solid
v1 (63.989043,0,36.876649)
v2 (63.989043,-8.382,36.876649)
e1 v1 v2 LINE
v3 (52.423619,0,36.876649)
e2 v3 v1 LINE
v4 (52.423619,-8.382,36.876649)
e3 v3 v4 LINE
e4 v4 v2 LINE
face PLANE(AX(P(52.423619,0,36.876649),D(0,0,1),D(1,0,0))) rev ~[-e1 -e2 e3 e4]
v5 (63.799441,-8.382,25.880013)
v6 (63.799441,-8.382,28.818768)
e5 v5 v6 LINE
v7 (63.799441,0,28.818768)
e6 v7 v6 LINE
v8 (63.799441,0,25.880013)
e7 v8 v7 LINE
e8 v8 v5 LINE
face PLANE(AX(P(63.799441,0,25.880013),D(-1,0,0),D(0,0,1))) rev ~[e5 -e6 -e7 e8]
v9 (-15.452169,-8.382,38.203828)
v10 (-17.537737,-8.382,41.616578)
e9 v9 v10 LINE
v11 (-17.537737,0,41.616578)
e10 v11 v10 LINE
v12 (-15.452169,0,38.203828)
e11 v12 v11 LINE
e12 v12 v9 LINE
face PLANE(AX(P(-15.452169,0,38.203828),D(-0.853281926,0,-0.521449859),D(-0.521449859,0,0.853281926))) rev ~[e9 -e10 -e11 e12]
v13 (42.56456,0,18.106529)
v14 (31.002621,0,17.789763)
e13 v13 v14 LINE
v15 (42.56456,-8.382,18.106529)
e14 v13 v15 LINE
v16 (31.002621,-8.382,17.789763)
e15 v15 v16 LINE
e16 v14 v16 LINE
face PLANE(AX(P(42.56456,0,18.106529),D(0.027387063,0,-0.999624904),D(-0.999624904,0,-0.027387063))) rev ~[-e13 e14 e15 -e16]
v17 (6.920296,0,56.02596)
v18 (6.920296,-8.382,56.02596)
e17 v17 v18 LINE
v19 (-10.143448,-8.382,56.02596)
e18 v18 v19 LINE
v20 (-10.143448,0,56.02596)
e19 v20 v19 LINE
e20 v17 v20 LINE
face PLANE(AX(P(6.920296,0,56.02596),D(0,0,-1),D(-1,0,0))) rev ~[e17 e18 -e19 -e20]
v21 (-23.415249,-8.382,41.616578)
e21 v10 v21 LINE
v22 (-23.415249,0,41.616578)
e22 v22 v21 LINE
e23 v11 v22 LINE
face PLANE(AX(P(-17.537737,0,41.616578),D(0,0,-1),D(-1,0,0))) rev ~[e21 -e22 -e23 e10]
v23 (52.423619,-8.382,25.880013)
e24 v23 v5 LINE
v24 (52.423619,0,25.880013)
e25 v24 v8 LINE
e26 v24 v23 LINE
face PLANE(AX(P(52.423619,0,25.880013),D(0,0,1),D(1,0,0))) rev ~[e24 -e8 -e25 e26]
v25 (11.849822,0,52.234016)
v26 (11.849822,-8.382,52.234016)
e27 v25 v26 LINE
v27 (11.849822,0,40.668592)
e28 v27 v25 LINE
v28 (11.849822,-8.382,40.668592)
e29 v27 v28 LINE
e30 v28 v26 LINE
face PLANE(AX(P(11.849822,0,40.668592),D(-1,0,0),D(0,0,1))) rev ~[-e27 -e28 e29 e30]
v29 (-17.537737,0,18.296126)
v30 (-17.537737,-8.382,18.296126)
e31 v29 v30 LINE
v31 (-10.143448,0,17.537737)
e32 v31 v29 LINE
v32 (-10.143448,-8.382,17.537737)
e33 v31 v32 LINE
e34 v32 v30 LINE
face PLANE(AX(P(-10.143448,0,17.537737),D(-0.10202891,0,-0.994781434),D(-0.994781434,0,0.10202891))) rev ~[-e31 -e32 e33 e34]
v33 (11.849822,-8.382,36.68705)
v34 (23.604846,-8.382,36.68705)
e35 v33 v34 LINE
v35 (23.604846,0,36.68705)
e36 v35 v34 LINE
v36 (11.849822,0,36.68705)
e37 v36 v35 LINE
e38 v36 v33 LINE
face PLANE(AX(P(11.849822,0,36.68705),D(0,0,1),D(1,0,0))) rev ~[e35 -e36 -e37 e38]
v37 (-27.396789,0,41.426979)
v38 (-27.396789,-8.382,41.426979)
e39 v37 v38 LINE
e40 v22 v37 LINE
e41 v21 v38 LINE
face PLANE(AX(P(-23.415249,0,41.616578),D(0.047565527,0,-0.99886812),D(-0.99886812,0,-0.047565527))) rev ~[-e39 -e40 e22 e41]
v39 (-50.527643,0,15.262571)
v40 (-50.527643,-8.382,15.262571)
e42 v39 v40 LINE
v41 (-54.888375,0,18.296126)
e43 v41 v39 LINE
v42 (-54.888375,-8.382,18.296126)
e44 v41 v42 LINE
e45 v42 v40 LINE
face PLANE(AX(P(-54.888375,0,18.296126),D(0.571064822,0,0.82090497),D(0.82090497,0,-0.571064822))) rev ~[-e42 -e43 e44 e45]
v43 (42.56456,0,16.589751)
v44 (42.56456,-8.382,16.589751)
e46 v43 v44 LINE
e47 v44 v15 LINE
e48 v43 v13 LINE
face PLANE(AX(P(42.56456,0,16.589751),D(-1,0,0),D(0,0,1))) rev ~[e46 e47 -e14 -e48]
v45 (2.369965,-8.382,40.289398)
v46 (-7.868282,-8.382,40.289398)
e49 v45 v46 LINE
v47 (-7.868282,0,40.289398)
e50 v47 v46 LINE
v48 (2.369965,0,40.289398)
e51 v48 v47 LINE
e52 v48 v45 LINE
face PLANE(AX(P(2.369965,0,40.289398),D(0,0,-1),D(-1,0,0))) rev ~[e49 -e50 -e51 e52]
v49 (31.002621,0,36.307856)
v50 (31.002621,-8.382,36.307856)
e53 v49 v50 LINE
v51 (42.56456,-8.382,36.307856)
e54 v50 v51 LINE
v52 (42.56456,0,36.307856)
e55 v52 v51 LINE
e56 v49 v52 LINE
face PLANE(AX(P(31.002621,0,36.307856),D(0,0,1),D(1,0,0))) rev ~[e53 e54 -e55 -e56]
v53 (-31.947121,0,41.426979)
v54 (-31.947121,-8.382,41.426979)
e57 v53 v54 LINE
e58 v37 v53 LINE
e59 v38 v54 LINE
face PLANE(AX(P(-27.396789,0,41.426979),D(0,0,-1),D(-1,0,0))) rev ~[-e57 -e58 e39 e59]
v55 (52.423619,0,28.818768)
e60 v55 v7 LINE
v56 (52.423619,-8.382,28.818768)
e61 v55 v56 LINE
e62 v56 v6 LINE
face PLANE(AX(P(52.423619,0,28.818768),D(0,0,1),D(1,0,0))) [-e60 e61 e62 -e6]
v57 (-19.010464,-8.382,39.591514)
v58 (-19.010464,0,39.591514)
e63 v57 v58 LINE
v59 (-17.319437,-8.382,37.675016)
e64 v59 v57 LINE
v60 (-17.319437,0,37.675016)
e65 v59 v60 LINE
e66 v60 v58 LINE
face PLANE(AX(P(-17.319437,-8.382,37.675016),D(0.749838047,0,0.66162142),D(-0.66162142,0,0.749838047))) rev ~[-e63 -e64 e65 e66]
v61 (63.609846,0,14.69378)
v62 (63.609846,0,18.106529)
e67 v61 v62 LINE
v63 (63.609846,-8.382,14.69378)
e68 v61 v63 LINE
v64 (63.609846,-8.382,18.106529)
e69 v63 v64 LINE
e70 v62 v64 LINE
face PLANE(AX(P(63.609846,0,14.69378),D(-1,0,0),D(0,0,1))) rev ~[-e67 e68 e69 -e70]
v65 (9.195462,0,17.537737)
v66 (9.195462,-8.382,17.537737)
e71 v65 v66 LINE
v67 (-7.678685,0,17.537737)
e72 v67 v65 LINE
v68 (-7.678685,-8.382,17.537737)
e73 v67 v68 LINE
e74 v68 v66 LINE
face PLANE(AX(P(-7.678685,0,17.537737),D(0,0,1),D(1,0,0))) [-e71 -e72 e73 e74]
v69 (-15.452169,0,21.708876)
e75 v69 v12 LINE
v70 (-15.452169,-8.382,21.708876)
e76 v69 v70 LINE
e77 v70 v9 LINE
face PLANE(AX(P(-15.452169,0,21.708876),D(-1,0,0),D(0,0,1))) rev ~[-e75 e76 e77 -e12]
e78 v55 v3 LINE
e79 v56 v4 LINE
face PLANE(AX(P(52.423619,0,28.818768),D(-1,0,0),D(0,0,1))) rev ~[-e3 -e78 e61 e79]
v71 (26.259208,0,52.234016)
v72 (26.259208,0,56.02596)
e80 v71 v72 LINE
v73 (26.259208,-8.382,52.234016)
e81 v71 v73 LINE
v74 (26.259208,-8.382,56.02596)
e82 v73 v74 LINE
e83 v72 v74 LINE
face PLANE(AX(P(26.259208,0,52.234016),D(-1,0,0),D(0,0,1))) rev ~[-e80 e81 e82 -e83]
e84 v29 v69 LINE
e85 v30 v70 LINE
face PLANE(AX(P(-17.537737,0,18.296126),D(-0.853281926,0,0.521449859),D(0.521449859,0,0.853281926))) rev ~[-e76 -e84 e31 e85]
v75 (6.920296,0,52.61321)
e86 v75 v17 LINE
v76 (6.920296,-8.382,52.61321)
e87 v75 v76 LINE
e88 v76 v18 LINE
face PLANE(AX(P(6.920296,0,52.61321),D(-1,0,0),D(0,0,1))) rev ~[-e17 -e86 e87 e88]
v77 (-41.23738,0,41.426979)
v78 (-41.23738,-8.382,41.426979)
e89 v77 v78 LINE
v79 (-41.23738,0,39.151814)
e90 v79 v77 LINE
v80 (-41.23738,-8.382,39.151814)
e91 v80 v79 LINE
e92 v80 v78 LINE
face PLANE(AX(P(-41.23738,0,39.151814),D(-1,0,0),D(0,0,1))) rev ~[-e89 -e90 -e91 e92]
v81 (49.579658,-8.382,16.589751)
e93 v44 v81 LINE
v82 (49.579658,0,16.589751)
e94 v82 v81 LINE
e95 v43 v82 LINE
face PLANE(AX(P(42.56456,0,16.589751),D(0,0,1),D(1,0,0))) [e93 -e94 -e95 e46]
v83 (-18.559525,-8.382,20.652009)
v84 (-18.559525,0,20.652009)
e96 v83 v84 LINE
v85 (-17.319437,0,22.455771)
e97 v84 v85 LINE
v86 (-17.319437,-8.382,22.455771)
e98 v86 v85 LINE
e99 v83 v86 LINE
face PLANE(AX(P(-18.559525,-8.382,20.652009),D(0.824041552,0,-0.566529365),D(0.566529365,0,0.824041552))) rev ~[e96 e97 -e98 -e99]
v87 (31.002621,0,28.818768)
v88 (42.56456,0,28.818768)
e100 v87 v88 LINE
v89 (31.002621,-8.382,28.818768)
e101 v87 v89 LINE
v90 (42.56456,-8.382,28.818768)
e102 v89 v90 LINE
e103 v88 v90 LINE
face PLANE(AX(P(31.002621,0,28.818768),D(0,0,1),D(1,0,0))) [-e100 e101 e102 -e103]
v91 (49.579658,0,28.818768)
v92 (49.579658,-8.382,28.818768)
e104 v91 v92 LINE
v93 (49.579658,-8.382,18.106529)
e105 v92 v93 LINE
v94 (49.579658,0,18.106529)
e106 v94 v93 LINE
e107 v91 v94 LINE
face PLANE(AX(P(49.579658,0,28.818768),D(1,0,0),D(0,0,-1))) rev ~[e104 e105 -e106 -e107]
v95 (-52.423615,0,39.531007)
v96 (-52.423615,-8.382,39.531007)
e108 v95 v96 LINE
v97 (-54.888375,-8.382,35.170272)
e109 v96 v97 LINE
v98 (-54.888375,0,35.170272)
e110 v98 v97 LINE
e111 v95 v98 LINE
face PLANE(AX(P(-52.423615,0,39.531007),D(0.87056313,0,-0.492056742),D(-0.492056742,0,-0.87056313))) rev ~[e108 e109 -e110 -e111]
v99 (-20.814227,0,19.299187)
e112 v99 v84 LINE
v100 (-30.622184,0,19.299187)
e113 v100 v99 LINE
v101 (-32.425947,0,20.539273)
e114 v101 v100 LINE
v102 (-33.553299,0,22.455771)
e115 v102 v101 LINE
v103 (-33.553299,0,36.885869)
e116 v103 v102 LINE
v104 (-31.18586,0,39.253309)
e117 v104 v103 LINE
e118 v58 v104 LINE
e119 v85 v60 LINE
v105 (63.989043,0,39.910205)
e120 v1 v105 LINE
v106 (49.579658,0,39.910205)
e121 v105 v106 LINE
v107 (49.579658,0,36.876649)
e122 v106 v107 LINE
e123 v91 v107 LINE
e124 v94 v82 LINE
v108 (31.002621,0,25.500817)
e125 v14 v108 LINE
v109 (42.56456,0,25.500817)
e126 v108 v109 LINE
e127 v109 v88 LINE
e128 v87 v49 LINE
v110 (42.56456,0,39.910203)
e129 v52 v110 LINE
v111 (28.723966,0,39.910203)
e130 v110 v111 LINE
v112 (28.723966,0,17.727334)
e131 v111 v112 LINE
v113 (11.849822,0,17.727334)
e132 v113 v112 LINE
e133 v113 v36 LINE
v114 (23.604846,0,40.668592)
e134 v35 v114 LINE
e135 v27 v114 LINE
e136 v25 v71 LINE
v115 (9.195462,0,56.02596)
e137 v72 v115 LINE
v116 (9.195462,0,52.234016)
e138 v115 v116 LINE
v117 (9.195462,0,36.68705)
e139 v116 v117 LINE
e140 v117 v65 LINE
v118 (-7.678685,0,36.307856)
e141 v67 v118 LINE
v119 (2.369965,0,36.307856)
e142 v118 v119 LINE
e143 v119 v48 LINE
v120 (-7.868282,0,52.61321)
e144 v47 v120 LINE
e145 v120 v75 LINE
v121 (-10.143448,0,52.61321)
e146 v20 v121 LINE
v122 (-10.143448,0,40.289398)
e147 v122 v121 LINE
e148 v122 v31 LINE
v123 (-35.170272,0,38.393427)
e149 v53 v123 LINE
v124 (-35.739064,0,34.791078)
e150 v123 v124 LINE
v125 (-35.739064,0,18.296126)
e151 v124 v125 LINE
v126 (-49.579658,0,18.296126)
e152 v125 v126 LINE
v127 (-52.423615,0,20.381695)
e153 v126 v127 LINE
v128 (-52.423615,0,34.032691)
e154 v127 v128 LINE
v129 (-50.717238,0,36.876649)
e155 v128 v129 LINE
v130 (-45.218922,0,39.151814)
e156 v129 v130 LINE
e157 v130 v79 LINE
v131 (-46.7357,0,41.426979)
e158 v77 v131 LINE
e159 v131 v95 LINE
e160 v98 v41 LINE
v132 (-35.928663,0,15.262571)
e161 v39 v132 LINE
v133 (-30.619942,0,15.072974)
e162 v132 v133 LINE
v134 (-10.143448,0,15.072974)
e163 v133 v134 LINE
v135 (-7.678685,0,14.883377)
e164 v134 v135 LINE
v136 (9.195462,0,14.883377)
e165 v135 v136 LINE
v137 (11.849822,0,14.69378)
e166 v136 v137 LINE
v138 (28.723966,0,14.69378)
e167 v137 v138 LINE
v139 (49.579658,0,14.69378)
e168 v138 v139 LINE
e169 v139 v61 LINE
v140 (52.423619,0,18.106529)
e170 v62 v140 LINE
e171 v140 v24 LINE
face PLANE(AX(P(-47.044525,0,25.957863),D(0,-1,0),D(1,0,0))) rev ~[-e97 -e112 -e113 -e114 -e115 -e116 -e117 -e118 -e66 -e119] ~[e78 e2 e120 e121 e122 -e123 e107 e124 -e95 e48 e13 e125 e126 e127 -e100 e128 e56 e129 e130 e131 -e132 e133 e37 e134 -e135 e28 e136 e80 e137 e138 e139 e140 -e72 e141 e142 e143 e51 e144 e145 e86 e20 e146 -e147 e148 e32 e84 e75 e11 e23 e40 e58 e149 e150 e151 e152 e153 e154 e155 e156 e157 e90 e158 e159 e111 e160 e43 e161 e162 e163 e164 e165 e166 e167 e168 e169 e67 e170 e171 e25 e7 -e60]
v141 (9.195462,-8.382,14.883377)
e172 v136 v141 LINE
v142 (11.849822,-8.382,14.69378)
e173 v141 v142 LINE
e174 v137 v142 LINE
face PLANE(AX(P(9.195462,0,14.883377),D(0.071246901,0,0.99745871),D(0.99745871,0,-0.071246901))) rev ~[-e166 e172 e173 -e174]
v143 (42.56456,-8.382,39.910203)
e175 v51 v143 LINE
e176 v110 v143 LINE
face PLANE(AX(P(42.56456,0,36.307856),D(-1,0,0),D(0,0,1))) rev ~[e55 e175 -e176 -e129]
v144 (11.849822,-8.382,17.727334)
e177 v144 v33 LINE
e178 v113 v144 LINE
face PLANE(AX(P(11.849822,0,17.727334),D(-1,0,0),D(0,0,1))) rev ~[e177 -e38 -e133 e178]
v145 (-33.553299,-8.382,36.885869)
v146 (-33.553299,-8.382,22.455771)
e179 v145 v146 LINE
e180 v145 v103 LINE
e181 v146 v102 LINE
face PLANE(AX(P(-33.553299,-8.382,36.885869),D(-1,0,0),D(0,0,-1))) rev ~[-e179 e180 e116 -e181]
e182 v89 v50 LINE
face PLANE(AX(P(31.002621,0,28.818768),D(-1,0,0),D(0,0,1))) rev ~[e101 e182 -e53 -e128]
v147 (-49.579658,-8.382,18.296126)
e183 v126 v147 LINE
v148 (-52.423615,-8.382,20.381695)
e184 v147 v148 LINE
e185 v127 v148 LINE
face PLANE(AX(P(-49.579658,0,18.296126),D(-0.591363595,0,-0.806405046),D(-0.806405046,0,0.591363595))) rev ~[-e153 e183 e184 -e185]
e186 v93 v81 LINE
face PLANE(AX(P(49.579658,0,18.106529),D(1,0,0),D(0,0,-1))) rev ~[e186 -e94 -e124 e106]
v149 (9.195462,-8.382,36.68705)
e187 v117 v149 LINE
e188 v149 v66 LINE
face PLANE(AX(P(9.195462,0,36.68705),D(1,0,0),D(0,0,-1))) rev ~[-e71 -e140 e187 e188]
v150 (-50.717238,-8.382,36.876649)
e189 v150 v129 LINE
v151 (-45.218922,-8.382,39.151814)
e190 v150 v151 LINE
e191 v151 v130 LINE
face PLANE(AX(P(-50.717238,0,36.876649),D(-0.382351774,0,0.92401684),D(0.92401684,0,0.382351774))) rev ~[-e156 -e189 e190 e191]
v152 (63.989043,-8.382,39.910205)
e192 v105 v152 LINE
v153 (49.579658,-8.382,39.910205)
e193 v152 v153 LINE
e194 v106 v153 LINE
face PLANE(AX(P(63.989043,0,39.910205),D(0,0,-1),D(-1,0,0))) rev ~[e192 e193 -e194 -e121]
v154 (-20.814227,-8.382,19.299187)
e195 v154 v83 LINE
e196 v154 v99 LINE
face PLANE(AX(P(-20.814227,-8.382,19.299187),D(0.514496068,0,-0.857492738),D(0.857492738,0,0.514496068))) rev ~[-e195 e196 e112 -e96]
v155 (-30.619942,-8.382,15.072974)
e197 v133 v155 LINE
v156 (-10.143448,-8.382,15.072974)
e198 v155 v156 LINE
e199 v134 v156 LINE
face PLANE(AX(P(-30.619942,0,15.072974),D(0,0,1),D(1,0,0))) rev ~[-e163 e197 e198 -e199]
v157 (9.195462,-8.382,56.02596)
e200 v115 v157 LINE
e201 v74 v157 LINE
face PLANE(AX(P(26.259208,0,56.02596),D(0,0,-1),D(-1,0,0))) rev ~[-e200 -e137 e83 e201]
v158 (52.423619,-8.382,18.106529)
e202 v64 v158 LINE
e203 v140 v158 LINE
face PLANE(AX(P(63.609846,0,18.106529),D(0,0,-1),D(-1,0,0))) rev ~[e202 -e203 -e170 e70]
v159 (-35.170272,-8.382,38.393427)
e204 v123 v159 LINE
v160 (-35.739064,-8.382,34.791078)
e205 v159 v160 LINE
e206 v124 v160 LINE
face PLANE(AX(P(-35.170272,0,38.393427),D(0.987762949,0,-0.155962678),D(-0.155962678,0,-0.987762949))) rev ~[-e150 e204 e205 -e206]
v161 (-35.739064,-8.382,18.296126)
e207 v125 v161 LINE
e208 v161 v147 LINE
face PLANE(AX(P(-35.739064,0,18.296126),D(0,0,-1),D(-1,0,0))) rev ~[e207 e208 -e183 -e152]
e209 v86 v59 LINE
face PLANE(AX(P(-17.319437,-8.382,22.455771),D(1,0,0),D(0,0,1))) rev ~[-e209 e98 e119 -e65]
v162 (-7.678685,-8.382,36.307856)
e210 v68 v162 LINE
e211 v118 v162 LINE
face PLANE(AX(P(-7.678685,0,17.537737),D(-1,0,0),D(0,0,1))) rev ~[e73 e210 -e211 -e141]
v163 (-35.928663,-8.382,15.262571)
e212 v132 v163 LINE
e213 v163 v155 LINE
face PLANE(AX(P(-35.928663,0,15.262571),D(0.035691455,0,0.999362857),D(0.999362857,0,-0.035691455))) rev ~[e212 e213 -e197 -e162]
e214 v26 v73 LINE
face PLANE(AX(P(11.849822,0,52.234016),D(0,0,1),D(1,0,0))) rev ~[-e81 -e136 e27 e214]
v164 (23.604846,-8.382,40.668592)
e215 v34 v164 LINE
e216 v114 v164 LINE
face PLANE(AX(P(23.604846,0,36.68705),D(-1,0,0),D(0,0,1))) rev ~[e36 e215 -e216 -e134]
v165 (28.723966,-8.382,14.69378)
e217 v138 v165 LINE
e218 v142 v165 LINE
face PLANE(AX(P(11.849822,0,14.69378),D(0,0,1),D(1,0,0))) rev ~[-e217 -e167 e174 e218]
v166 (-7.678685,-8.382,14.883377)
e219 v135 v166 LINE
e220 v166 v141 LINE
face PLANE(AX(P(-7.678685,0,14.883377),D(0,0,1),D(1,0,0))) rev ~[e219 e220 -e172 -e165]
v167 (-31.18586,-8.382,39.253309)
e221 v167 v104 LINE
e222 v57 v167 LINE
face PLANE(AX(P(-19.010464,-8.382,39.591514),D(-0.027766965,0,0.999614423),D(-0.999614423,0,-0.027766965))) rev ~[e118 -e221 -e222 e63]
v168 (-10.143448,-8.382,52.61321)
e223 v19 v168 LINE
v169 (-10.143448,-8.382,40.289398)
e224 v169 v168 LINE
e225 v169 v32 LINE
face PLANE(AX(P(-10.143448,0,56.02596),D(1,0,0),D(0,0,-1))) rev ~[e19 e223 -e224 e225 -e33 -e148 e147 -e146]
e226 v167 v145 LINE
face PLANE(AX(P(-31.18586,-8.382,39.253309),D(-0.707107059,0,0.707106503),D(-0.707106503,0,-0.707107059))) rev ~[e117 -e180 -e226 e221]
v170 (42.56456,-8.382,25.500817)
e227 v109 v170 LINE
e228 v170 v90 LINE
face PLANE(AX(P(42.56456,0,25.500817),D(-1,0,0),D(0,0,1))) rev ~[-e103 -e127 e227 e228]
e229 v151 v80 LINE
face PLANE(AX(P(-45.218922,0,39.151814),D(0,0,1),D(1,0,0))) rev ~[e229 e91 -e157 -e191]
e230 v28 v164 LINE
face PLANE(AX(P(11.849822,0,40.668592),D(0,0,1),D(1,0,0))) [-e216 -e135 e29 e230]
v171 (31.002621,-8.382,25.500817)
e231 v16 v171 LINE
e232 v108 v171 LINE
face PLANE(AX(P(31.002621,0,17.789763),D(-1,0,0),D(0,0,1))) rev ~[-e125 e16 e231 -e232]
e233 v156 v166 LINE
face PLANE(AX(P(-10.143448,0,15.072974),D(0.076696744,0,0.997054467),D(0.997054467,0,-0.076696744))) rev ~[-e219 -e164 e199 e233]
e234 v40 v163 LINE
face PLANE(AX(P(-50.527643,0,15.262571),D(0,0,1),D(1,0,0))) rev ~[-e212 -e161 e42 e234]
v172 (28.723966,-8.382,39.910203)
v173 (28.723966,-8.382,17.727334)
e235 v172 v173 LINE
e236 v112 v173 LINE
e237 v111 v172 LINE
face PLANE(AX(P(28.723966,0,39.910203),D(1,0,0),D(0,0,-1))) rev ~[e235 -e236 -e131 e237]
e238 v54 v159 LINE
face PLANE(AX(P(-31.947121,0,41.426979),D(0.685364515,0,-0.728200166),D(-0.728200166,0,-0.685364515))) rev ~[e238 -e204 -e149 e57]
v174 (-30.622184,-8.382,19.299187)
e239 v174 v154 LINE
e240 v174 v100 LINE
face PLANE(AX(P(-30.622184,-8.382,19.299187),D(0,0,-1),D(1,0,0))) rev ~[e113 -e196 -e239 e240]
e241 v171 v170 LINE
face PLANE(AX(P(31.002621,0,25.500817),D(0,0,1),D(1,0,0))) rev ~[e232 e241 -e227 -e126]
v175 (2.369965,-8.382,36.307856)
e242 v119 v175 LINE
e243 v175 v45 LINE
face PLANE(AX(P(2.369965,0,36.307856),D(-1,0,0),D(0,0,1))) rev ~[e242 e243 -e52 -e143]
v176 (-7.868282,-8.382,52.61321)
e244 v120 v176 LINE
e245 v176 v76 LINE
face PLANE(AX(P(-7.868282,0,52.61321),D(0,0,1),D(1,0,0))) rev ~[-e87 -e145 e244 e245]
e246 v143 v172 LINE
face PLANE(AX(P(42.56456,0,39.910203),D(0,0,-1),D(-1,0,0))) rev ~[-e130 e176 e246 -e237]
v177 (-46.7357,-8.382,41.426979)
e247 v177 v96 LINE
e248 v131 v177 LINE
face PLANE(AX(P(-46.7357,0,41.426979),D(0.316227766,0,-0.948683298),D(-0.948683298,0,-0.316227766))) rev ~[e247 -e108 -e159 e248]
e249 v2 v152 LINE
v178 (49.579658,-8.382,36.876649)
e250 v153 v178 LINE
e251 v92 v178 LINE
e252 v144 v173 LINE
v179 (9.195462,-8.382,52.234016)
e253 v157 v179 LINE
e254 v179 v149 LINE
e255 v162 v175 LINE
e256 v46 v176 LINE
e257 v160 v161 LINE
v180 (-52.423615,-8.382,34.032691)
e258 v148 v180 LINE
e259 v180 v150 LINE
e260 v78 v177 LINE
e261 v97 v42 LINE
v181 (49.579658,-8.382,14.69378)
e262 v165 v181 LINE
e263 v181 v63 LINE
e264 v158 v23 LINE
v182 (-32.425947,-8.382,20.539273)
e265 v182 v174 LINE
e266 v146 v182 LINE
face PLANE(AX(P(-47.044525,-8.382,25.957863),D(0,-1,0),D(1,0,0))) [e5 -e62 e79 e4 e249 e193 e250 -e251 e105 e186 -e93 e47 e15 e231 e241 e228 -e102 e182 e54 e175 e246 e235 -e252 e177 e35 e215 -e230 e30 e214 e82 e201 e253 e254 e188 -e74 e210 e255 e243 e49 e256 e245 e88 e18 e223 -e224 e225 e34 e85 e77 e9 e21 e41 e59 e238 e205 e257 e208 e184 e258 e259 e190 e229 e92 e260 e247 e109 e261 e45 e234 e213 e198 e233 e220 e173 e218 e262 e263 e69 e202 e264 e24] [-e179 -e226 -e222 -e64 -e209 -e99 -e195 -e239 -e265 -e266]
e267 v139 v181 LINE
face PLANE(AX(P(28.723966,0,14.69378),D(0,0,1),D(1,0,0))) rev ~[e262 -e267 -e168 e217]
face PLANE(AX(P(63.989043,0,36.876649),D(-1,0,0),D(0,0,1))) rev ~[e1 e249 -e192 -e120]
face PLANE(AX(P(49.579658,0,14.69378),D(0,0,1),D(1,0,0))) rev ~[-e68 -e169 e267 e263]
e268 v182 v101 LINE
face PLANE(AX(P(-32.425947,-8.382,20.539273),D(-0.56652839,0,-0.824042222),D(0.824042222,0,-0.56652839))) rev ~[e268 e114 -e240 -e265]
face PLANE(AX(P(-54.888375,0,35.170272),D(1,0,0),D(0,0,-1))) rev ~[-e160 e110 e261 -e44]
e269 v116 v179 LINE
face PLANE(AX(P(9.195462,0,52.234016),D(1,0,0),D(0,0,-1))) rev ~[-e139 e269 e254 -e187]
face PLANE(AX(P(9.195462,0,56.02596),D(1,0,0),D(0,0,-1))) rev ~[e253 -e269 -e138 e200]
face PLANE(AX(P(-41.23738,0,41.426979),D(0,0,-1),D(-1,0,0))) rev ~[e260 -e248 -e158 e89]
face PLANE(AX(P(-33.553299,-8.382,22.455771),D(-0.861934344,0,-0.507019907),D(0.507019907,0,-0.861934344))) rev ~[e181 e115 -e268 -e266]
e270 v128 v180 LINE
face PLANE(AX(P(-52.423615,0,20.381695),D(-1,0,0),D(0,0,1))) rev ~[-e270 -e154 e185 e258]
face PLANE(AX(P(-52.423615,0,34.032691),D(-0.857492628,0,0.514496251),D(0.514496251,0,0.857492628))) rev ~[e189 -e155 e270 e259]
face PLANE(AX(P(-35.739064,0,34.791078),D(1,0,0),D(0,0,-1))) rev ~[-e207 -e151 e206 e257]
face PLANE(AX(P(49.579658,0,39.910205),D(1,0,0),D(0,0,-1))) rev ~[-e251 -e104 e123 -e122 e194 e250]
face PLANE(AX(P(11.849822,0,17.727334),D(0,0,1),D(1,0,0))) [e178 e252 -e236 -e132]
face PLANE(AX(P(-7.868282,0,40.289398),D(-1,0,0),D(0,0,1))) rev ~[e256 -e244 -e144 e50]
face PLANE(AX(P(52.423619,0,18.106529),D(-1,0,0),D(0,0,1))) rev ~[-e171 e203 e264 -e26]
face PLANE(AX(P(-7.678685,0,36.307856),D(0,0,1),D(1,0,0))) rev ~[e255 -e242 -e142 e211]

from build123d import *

# Parameters (mm, degrees)
F0_W     = 16.8741471134
F0_H     = 2.6543606073
F0_W_2   = 2.2751651704
F0_H_2   = 12.3238116503
F0_W_3   = 16.8741438538
F0_H_3   = 3.0335541815
F0_W_4   = 2.6543606073
F0_H_4   = 3.9815418422
F0_H_5   = 11.5654245019
F0_W_5   = 11.7550231516
F0_W_6   = 7.0150978863
F0_H_6   = 1.8959715962
F0_W_7   = 2.2786548152
F0_H_7   = 3.3179512247
F0_H_8   = 7.4890879914
F0_W_8   = 11.5619385824
F0_W_9   = 2.8439611197
F0_H_9   = 7.7734831721
F0_H_10  = 2.9387557879
F0_H_11  = 8.0578802153
F0_W_10  = 11.3758221269
F1_DEPTH = 7.62
F2_DEPTH = 8.382
F4_DEPTH = 25.4


with BuildPart() as f1:
    # F0 (on Front) → F1 (new body)
    with BuildSketch(Plane.XZ):
        Polygon((-41.2373803556, 39.1518138349), (-41.2373803556, 41.4269790053), (-46.7357002199, 41.4269790053), (-52.4236150086, 39.5310074091), (-54.8883751035, 35.1702719927), (-54.8883751035, 26.8279965967), (-54.8883751035, 18.2961262763), (-50.5276434124, 15.2625711635), (-46.1669079959, 15.2625711635), (-41.9957712293, 15.2625711635), (-35.9286628664, 15.2625711635), (-30.6199416518, 15.0729743764), (-35.7390642166, 18.2961262763), (-41.2373803556, 18.2961262763), (-49.5796576142, 18.2961262763), (-52.4236150086, 20.3816946596), (-52.4236150086, 25.8800126612), (-52.4236150086, 34.0326912701), (-50.7172383368, 36.8766486645), (-45.2189221978, 39.1518138349), align=None)
        Polygon((-35.7390642166, 34.7910784185), (-35.7390642166, 18.2961262763), (-30.6199416518, 15.0729743764), (-20.9504868835, 15.0729743764), (-17.5377372652, 18.2961262763), (-15.4521688819, 21.7088758945), (-15.4521688819, 32.5159132481), (-15.4521688819, 38.2038280368), (-17.5377372652, 41.6165776551), (-23.415248841, 41.6165776551), (-27.3967888206, 41.4269790053), (-31.9471210241, 41.4269790053), (-35.1702719927, 38.3934266865), align=None)
        Polygon((-17.5377372652, 18.2961262763), (-20.9504868835, 15.0729743764), (-10.1434476674, 15.0729743764), (-10.1434476674, 17.5377372652), align=None)
        Polygon((-10.1434476674, 17.5377372652), (-10.1434476674, 15.0729743764), (-7.6786852442, 14.883376658), (-7.6786852442, 17.5377372652), (-7.6786852442, 36.3078564405), (-10.1434476674, 36.3078564405), align=None)
        with Locations((0.7583883125, 16.2105569616)):
            Rectangle(F0_W, F0_H)
        Polygon((-10.1434476674, 40.2893982828), (-10.1434476674, 36.3078564405), (-7.6786852442, 36.3078564405), (2.3699654266, 36.3078564405), (2.3699654266, 40.2893982828), (-7.8682824969, 40.2893982828), align=None)
        Polygon((9.1954618692, 17.5377372652), (9.1954618692, 14.883376658), (11.8498224765, 14.6937798709), (11.8498224765, 17.7273340523), (11.8498224765, 36.6870500147), (9.1954618692, 36.6870500147), align=None)
        with Locations((-9.0058650821, 46.4513041079)):
            Rectangle(F0_W_2, F0_H_2)
        with Locations((20.2868944034, 16.2105569616)):
            Rectangle(F0_W_3, F0_H_3)
        Polygon((-10.1434476674, 56.0259595513), (-10.1434476674, 52.613209933), (-7.8682824969, 52.613209933), (6.9202957675, 52.613209933), (6.9202957675, 56.0259595513), align=None)
        with Locations((10.5226421729, 38.6778209358)):
            Rectangle(F0_W_4, F0_H_4)
        Polygon((28.7239663303, 17.7273340523), (28.7239663303, 14.6937798709), (42.5645597279, 14.6937798709), (42.5645597279, 16.5897514671), (42.5645597279, 18.1065294892), (31.0026211455, 17.789763132), align=None)
        with Locations((10.5226421729, 46.4513041079)):
            Rectangle(F0_W_4, F0_H_5)
        with Locations((17.7273340523, 38.6778209358)):
            Rectangle(F0_W_5, F0_H_4)
        Polygon((28.7239663303, 25.5008172244), (28.7239663303, 17.7273340523), (31.0026211455, 17.789763132), (31.0026211455, 25.5008172244), align=None)
        with Locations((46.0721086711, 15.641765669)):
            Rectangle(F0_W_6, F0_H_6)
        Polygon((9.1954618692, 56.0259595513), (9.1954618692, 52.2340163589), (11.8498224765, 52.2340163589), (26.2592080981, 52.2340163589), (26.2592080981, 56.0259595513), align=None)
        with Locations((29.8632937379, 27.1597928368)):
            Rectangle(F0_W_7, F0_H_7)
        Polygon((49.5796576142, 16.5897514671), (49.5796576142, 14.6937798709), (63.6098459363, 14.6937798709), (63.6098459363, 18.1065294892), (52.4236187339, 18.1065294892), (49.5796576142, 18.1065294892), align=None)
        with Locations((29.8632937379, 32.5633124448)):
            Rectangle(F0_W_7, F0_H_8)
        with Locations((36.7835904367, 27.1597928368)):
            Rectangle(F0_W_8, F0_H_7)
        Polygon((28.7239663303, 39.9102028459), (28.7239663303, 36.3078564405), (31.0026211455, 36.3078564405), (42.5645597279, 36.3078564405), (42.5645597279, 39.9102028459), align=None)
        with Locations((51.0016381741, 21.9932710752)):
            Rectangle(F0_W_9, F0_H_9)
        with Locations((51.0016381741, 27.3493905552)):
            Rectangle(F0_W_9, F0_H_10)
        with Locations((51.0016381741, 32.8477085568)):
            Rectangle(F0_W_9, F0_H_11)
        with Locations((58.1115297973, 27.3493905552)):
            Rectangle(F0_W_10, F0_H_10)
        Polygon((49.5796576142, 39.9102047086), (49.5796576142, 36.8766486645), (52.4236187339, 36.8766486645), (63.9890432358, 36.8766486645), (63.9890432358, 39.9102047086), align=None)
    extrude(amount=F1_DEPTH)

    # F0 (on Front) → F2 (join)
    with BuildSketch(Plane.XZ):
        Polygon((-41.2373803556, 39.1518138349), (-41.2373803556, 41.4269790053), (-46.7357002199, 41.4269790053), (-52.4236150086, 39.5310074091), (-54.8883751035, 35.1702719927), (-54.8883751035, 26.8279965967), (-54.8883751035, 18.2961262763), (-50.5276434124, 15.2625711635), (-46.1669079959, 15.2625711635), (-41.9957712293, 15.2625711635), (-35.9286628664, 15.2625711635), (-30.6199416518, 15.0729743764), (-35.7390642166, 18.2961262763), (-41.2373803556, 18.2961262763), (-49.5796576142, 18.2961262763), (-52.4236150086, 20.3816946596), (-52.4236150086, 25.8800126612), (-52.4236150086, 34.0326912701), (-50.7172383368, 36.8766486645), (-45.2189221978, 39.1518138349), align=None)
        Polygon((-35.7390642166, 34.7910784185), (-35.7390642166, 18.2961262763), (-30.6199416518, 15.0729743764), (-20.9504868835, 15.0729743764), (-17.5377372652, 18.2961262763), (-15.4521688819, 21.7088758945), (-15.4521688819, 32.5159132481), (-15.4521688819, 38.2038280368), (-17.5377372652, 41.6165776551), (-23.415248841, 41.6165776551), (-27.3967888206, 41.4269790053), (-31.9471210241, 41.4269790053), (-35.1702719927, 38.3934266865), align=None)
        Polygon((-17.5377372652, 18.2961262763), (-20.9504868835, 15.0729743764), (-10.1434476674, 15.0729743764), (-10.1434476674, 17.5377372652), align=None)
        Polygon((-10.1434476674, 17.5377372652), (-10.1434476674, 15.0729743764), (-7.6786852442, 14.883376658), (-7.6786852442, 17.5377372652), (-7.6786852442, 36.3078564405), (-10.1434476674, 36.3078564405), align=None)
        with Locations((0.7583883125, 16.2105569616)):
            Rectangle(F0_W, F0_H)
        Polygon((-10.1434476674, 40.2893982828), (-10.1434476674, 36.3078564405), (-7.6786852442, 36.3078564405), (2.3699654266, 36.3078564405), (2.3699654266, 40.2893982828), (-7.8682824969, 40.2893982828), align=None)
        Polygon((9.1954618692, 17.5377372652), (9.1954618692, 14.883376658), (11.8498224765, 14.6937798709), (11.8498224765, 17.7273340523), (11.8498224765, 36.6870500147), (9.1954618692, 36.6870500147), align=None)
        with Locations((-9.0058650821, 46.4513041079)):
            Rectangle(F0_W_2, F0_H_2)
        with Locations((20.2868944034, 16.2105569616)):
            Rectangle(F0_W_3, F0_H_3)
        Polygon((-10.1434476674, 56.0259595513), (-10.1434476674, 52.613209933), (-7.8682824969, 52.613209933), (6.9202957675, 52.613209933), (6.9202957675, 56.0259595513), align=None)
        with Locations((10.5226421729, 38.6778209358)):
            Rectangle(F0_W_4, F0_H_4)
        Polygon((28.7239663303, 17.7273340523), (28.7239663303, 14.6937798709), (42.5645597279, 14.6937798709), (42.5645597279, 16.5897514671), (42.5645597279, 18.1065294892), (31.0026211455, 17.789763132), align=None)
        with Locations((10.5226421729, 46.4513041079)):
            Rectangle(F0_W_4, F0_H_5)
        with Locations((17.7273340523, 38.6778209358)):
            Rectangle(F0_W_5, F0_H_4)
        Polygon((28.7239663303, 25.5008172244), (28.7239663303, 17.7273340523), (31.0026211455, 17.789763132), (31.0026211455, 25.5008172244), align=None)
        with Locations((46.0721086711, 15.641765669)):
            Rectangle(F0_W_6, F0_H_6)
        Polygon((9.1954618692, 56.0259595513), (9.1954618692, 52.2340163589), (11.8498224765, 52.2340163589), (26.2592080981, 52.2340163589), (26.2592080981, 56.0259595513), align=None)
        with Locations((29.8632937379, 27.1597928368)):
            Rectangle(F0_W_7, F0_H_7)
        Polygon((49.5796576142, 16.5897514671), (49.5796576142, 14.6937798709), (63.6098459363, 14.6937798709), (63.6098459363, 18.1065294892), (52.4236187339, 18.1065294892), (49.5796576142, 18.1065294892), align=None)
        with Locations((29.8632937379, 32.5633124448)):
            Rectangle(F0_W_7, F0_H_8)
        with Locations((36.7835904367, 27.1597928368)):
            Rectangle(F0_W_8, F0_H_7)
        Polygon((28.7239663303, 39.9102028459), (28.7239663303, 36.3078564405), (31.0026211455, 36.3078564405), (42.5645597279, 36.3078564405), (42.5645597279, 39.9102028459), align=None)
        with Locations((51.0016381741, 21.9932710752)):
            Rectangle(F0_W_9, F0_H_9)
        with Locations((51.0016381741, 27.3493905552)):
            Rectangle(F0_W_9, F0_H_10)
        with Locations((51.0016381741, 32.8477085568)):
            Rectangle(F0_W_9, F0_H_11)
        with Locations((58.1115297973, 27.3493905552)):
            Rectangle(F0_W_10, F0_H_10)
        Polygon((49.5796576142, 39.9102047086), (49.5796576142, 36.8766486645), (52.4236187339, 36.8766486645), (63.9890432358, 36.8766486645), (63.9890432358, 39.9102047086), align=None)
    extrude(amount=F2_DEPTH)

    # F3 (on face) → F4 (cut)
    with BuildSketch(Plane.XZ.offset(8.382)):
        Polygon((-19.0104637295, 39.5915135741), (-31.1858598143, 39.2533093691), (-33.5532985628, 36.885868758), (-33.5532985628, 32.8274033964), (-33.5532985628, 22.4557705224), (-32.4259474874, 20.5392725766), (-30.6221842766, 19.2991867661), (-20.8142269403, 19.2991867661), (-18.5595247895, 20.6520091742), (-17.3194371164, 22.4557705224), (-17.3194371164, 32.8274033964), (-17.3194371164, 37.6750156283), align=None)
    extrude(amount=-F4_DEPTH, mode=Mode.SUBTRACT)


solid = f1.part
